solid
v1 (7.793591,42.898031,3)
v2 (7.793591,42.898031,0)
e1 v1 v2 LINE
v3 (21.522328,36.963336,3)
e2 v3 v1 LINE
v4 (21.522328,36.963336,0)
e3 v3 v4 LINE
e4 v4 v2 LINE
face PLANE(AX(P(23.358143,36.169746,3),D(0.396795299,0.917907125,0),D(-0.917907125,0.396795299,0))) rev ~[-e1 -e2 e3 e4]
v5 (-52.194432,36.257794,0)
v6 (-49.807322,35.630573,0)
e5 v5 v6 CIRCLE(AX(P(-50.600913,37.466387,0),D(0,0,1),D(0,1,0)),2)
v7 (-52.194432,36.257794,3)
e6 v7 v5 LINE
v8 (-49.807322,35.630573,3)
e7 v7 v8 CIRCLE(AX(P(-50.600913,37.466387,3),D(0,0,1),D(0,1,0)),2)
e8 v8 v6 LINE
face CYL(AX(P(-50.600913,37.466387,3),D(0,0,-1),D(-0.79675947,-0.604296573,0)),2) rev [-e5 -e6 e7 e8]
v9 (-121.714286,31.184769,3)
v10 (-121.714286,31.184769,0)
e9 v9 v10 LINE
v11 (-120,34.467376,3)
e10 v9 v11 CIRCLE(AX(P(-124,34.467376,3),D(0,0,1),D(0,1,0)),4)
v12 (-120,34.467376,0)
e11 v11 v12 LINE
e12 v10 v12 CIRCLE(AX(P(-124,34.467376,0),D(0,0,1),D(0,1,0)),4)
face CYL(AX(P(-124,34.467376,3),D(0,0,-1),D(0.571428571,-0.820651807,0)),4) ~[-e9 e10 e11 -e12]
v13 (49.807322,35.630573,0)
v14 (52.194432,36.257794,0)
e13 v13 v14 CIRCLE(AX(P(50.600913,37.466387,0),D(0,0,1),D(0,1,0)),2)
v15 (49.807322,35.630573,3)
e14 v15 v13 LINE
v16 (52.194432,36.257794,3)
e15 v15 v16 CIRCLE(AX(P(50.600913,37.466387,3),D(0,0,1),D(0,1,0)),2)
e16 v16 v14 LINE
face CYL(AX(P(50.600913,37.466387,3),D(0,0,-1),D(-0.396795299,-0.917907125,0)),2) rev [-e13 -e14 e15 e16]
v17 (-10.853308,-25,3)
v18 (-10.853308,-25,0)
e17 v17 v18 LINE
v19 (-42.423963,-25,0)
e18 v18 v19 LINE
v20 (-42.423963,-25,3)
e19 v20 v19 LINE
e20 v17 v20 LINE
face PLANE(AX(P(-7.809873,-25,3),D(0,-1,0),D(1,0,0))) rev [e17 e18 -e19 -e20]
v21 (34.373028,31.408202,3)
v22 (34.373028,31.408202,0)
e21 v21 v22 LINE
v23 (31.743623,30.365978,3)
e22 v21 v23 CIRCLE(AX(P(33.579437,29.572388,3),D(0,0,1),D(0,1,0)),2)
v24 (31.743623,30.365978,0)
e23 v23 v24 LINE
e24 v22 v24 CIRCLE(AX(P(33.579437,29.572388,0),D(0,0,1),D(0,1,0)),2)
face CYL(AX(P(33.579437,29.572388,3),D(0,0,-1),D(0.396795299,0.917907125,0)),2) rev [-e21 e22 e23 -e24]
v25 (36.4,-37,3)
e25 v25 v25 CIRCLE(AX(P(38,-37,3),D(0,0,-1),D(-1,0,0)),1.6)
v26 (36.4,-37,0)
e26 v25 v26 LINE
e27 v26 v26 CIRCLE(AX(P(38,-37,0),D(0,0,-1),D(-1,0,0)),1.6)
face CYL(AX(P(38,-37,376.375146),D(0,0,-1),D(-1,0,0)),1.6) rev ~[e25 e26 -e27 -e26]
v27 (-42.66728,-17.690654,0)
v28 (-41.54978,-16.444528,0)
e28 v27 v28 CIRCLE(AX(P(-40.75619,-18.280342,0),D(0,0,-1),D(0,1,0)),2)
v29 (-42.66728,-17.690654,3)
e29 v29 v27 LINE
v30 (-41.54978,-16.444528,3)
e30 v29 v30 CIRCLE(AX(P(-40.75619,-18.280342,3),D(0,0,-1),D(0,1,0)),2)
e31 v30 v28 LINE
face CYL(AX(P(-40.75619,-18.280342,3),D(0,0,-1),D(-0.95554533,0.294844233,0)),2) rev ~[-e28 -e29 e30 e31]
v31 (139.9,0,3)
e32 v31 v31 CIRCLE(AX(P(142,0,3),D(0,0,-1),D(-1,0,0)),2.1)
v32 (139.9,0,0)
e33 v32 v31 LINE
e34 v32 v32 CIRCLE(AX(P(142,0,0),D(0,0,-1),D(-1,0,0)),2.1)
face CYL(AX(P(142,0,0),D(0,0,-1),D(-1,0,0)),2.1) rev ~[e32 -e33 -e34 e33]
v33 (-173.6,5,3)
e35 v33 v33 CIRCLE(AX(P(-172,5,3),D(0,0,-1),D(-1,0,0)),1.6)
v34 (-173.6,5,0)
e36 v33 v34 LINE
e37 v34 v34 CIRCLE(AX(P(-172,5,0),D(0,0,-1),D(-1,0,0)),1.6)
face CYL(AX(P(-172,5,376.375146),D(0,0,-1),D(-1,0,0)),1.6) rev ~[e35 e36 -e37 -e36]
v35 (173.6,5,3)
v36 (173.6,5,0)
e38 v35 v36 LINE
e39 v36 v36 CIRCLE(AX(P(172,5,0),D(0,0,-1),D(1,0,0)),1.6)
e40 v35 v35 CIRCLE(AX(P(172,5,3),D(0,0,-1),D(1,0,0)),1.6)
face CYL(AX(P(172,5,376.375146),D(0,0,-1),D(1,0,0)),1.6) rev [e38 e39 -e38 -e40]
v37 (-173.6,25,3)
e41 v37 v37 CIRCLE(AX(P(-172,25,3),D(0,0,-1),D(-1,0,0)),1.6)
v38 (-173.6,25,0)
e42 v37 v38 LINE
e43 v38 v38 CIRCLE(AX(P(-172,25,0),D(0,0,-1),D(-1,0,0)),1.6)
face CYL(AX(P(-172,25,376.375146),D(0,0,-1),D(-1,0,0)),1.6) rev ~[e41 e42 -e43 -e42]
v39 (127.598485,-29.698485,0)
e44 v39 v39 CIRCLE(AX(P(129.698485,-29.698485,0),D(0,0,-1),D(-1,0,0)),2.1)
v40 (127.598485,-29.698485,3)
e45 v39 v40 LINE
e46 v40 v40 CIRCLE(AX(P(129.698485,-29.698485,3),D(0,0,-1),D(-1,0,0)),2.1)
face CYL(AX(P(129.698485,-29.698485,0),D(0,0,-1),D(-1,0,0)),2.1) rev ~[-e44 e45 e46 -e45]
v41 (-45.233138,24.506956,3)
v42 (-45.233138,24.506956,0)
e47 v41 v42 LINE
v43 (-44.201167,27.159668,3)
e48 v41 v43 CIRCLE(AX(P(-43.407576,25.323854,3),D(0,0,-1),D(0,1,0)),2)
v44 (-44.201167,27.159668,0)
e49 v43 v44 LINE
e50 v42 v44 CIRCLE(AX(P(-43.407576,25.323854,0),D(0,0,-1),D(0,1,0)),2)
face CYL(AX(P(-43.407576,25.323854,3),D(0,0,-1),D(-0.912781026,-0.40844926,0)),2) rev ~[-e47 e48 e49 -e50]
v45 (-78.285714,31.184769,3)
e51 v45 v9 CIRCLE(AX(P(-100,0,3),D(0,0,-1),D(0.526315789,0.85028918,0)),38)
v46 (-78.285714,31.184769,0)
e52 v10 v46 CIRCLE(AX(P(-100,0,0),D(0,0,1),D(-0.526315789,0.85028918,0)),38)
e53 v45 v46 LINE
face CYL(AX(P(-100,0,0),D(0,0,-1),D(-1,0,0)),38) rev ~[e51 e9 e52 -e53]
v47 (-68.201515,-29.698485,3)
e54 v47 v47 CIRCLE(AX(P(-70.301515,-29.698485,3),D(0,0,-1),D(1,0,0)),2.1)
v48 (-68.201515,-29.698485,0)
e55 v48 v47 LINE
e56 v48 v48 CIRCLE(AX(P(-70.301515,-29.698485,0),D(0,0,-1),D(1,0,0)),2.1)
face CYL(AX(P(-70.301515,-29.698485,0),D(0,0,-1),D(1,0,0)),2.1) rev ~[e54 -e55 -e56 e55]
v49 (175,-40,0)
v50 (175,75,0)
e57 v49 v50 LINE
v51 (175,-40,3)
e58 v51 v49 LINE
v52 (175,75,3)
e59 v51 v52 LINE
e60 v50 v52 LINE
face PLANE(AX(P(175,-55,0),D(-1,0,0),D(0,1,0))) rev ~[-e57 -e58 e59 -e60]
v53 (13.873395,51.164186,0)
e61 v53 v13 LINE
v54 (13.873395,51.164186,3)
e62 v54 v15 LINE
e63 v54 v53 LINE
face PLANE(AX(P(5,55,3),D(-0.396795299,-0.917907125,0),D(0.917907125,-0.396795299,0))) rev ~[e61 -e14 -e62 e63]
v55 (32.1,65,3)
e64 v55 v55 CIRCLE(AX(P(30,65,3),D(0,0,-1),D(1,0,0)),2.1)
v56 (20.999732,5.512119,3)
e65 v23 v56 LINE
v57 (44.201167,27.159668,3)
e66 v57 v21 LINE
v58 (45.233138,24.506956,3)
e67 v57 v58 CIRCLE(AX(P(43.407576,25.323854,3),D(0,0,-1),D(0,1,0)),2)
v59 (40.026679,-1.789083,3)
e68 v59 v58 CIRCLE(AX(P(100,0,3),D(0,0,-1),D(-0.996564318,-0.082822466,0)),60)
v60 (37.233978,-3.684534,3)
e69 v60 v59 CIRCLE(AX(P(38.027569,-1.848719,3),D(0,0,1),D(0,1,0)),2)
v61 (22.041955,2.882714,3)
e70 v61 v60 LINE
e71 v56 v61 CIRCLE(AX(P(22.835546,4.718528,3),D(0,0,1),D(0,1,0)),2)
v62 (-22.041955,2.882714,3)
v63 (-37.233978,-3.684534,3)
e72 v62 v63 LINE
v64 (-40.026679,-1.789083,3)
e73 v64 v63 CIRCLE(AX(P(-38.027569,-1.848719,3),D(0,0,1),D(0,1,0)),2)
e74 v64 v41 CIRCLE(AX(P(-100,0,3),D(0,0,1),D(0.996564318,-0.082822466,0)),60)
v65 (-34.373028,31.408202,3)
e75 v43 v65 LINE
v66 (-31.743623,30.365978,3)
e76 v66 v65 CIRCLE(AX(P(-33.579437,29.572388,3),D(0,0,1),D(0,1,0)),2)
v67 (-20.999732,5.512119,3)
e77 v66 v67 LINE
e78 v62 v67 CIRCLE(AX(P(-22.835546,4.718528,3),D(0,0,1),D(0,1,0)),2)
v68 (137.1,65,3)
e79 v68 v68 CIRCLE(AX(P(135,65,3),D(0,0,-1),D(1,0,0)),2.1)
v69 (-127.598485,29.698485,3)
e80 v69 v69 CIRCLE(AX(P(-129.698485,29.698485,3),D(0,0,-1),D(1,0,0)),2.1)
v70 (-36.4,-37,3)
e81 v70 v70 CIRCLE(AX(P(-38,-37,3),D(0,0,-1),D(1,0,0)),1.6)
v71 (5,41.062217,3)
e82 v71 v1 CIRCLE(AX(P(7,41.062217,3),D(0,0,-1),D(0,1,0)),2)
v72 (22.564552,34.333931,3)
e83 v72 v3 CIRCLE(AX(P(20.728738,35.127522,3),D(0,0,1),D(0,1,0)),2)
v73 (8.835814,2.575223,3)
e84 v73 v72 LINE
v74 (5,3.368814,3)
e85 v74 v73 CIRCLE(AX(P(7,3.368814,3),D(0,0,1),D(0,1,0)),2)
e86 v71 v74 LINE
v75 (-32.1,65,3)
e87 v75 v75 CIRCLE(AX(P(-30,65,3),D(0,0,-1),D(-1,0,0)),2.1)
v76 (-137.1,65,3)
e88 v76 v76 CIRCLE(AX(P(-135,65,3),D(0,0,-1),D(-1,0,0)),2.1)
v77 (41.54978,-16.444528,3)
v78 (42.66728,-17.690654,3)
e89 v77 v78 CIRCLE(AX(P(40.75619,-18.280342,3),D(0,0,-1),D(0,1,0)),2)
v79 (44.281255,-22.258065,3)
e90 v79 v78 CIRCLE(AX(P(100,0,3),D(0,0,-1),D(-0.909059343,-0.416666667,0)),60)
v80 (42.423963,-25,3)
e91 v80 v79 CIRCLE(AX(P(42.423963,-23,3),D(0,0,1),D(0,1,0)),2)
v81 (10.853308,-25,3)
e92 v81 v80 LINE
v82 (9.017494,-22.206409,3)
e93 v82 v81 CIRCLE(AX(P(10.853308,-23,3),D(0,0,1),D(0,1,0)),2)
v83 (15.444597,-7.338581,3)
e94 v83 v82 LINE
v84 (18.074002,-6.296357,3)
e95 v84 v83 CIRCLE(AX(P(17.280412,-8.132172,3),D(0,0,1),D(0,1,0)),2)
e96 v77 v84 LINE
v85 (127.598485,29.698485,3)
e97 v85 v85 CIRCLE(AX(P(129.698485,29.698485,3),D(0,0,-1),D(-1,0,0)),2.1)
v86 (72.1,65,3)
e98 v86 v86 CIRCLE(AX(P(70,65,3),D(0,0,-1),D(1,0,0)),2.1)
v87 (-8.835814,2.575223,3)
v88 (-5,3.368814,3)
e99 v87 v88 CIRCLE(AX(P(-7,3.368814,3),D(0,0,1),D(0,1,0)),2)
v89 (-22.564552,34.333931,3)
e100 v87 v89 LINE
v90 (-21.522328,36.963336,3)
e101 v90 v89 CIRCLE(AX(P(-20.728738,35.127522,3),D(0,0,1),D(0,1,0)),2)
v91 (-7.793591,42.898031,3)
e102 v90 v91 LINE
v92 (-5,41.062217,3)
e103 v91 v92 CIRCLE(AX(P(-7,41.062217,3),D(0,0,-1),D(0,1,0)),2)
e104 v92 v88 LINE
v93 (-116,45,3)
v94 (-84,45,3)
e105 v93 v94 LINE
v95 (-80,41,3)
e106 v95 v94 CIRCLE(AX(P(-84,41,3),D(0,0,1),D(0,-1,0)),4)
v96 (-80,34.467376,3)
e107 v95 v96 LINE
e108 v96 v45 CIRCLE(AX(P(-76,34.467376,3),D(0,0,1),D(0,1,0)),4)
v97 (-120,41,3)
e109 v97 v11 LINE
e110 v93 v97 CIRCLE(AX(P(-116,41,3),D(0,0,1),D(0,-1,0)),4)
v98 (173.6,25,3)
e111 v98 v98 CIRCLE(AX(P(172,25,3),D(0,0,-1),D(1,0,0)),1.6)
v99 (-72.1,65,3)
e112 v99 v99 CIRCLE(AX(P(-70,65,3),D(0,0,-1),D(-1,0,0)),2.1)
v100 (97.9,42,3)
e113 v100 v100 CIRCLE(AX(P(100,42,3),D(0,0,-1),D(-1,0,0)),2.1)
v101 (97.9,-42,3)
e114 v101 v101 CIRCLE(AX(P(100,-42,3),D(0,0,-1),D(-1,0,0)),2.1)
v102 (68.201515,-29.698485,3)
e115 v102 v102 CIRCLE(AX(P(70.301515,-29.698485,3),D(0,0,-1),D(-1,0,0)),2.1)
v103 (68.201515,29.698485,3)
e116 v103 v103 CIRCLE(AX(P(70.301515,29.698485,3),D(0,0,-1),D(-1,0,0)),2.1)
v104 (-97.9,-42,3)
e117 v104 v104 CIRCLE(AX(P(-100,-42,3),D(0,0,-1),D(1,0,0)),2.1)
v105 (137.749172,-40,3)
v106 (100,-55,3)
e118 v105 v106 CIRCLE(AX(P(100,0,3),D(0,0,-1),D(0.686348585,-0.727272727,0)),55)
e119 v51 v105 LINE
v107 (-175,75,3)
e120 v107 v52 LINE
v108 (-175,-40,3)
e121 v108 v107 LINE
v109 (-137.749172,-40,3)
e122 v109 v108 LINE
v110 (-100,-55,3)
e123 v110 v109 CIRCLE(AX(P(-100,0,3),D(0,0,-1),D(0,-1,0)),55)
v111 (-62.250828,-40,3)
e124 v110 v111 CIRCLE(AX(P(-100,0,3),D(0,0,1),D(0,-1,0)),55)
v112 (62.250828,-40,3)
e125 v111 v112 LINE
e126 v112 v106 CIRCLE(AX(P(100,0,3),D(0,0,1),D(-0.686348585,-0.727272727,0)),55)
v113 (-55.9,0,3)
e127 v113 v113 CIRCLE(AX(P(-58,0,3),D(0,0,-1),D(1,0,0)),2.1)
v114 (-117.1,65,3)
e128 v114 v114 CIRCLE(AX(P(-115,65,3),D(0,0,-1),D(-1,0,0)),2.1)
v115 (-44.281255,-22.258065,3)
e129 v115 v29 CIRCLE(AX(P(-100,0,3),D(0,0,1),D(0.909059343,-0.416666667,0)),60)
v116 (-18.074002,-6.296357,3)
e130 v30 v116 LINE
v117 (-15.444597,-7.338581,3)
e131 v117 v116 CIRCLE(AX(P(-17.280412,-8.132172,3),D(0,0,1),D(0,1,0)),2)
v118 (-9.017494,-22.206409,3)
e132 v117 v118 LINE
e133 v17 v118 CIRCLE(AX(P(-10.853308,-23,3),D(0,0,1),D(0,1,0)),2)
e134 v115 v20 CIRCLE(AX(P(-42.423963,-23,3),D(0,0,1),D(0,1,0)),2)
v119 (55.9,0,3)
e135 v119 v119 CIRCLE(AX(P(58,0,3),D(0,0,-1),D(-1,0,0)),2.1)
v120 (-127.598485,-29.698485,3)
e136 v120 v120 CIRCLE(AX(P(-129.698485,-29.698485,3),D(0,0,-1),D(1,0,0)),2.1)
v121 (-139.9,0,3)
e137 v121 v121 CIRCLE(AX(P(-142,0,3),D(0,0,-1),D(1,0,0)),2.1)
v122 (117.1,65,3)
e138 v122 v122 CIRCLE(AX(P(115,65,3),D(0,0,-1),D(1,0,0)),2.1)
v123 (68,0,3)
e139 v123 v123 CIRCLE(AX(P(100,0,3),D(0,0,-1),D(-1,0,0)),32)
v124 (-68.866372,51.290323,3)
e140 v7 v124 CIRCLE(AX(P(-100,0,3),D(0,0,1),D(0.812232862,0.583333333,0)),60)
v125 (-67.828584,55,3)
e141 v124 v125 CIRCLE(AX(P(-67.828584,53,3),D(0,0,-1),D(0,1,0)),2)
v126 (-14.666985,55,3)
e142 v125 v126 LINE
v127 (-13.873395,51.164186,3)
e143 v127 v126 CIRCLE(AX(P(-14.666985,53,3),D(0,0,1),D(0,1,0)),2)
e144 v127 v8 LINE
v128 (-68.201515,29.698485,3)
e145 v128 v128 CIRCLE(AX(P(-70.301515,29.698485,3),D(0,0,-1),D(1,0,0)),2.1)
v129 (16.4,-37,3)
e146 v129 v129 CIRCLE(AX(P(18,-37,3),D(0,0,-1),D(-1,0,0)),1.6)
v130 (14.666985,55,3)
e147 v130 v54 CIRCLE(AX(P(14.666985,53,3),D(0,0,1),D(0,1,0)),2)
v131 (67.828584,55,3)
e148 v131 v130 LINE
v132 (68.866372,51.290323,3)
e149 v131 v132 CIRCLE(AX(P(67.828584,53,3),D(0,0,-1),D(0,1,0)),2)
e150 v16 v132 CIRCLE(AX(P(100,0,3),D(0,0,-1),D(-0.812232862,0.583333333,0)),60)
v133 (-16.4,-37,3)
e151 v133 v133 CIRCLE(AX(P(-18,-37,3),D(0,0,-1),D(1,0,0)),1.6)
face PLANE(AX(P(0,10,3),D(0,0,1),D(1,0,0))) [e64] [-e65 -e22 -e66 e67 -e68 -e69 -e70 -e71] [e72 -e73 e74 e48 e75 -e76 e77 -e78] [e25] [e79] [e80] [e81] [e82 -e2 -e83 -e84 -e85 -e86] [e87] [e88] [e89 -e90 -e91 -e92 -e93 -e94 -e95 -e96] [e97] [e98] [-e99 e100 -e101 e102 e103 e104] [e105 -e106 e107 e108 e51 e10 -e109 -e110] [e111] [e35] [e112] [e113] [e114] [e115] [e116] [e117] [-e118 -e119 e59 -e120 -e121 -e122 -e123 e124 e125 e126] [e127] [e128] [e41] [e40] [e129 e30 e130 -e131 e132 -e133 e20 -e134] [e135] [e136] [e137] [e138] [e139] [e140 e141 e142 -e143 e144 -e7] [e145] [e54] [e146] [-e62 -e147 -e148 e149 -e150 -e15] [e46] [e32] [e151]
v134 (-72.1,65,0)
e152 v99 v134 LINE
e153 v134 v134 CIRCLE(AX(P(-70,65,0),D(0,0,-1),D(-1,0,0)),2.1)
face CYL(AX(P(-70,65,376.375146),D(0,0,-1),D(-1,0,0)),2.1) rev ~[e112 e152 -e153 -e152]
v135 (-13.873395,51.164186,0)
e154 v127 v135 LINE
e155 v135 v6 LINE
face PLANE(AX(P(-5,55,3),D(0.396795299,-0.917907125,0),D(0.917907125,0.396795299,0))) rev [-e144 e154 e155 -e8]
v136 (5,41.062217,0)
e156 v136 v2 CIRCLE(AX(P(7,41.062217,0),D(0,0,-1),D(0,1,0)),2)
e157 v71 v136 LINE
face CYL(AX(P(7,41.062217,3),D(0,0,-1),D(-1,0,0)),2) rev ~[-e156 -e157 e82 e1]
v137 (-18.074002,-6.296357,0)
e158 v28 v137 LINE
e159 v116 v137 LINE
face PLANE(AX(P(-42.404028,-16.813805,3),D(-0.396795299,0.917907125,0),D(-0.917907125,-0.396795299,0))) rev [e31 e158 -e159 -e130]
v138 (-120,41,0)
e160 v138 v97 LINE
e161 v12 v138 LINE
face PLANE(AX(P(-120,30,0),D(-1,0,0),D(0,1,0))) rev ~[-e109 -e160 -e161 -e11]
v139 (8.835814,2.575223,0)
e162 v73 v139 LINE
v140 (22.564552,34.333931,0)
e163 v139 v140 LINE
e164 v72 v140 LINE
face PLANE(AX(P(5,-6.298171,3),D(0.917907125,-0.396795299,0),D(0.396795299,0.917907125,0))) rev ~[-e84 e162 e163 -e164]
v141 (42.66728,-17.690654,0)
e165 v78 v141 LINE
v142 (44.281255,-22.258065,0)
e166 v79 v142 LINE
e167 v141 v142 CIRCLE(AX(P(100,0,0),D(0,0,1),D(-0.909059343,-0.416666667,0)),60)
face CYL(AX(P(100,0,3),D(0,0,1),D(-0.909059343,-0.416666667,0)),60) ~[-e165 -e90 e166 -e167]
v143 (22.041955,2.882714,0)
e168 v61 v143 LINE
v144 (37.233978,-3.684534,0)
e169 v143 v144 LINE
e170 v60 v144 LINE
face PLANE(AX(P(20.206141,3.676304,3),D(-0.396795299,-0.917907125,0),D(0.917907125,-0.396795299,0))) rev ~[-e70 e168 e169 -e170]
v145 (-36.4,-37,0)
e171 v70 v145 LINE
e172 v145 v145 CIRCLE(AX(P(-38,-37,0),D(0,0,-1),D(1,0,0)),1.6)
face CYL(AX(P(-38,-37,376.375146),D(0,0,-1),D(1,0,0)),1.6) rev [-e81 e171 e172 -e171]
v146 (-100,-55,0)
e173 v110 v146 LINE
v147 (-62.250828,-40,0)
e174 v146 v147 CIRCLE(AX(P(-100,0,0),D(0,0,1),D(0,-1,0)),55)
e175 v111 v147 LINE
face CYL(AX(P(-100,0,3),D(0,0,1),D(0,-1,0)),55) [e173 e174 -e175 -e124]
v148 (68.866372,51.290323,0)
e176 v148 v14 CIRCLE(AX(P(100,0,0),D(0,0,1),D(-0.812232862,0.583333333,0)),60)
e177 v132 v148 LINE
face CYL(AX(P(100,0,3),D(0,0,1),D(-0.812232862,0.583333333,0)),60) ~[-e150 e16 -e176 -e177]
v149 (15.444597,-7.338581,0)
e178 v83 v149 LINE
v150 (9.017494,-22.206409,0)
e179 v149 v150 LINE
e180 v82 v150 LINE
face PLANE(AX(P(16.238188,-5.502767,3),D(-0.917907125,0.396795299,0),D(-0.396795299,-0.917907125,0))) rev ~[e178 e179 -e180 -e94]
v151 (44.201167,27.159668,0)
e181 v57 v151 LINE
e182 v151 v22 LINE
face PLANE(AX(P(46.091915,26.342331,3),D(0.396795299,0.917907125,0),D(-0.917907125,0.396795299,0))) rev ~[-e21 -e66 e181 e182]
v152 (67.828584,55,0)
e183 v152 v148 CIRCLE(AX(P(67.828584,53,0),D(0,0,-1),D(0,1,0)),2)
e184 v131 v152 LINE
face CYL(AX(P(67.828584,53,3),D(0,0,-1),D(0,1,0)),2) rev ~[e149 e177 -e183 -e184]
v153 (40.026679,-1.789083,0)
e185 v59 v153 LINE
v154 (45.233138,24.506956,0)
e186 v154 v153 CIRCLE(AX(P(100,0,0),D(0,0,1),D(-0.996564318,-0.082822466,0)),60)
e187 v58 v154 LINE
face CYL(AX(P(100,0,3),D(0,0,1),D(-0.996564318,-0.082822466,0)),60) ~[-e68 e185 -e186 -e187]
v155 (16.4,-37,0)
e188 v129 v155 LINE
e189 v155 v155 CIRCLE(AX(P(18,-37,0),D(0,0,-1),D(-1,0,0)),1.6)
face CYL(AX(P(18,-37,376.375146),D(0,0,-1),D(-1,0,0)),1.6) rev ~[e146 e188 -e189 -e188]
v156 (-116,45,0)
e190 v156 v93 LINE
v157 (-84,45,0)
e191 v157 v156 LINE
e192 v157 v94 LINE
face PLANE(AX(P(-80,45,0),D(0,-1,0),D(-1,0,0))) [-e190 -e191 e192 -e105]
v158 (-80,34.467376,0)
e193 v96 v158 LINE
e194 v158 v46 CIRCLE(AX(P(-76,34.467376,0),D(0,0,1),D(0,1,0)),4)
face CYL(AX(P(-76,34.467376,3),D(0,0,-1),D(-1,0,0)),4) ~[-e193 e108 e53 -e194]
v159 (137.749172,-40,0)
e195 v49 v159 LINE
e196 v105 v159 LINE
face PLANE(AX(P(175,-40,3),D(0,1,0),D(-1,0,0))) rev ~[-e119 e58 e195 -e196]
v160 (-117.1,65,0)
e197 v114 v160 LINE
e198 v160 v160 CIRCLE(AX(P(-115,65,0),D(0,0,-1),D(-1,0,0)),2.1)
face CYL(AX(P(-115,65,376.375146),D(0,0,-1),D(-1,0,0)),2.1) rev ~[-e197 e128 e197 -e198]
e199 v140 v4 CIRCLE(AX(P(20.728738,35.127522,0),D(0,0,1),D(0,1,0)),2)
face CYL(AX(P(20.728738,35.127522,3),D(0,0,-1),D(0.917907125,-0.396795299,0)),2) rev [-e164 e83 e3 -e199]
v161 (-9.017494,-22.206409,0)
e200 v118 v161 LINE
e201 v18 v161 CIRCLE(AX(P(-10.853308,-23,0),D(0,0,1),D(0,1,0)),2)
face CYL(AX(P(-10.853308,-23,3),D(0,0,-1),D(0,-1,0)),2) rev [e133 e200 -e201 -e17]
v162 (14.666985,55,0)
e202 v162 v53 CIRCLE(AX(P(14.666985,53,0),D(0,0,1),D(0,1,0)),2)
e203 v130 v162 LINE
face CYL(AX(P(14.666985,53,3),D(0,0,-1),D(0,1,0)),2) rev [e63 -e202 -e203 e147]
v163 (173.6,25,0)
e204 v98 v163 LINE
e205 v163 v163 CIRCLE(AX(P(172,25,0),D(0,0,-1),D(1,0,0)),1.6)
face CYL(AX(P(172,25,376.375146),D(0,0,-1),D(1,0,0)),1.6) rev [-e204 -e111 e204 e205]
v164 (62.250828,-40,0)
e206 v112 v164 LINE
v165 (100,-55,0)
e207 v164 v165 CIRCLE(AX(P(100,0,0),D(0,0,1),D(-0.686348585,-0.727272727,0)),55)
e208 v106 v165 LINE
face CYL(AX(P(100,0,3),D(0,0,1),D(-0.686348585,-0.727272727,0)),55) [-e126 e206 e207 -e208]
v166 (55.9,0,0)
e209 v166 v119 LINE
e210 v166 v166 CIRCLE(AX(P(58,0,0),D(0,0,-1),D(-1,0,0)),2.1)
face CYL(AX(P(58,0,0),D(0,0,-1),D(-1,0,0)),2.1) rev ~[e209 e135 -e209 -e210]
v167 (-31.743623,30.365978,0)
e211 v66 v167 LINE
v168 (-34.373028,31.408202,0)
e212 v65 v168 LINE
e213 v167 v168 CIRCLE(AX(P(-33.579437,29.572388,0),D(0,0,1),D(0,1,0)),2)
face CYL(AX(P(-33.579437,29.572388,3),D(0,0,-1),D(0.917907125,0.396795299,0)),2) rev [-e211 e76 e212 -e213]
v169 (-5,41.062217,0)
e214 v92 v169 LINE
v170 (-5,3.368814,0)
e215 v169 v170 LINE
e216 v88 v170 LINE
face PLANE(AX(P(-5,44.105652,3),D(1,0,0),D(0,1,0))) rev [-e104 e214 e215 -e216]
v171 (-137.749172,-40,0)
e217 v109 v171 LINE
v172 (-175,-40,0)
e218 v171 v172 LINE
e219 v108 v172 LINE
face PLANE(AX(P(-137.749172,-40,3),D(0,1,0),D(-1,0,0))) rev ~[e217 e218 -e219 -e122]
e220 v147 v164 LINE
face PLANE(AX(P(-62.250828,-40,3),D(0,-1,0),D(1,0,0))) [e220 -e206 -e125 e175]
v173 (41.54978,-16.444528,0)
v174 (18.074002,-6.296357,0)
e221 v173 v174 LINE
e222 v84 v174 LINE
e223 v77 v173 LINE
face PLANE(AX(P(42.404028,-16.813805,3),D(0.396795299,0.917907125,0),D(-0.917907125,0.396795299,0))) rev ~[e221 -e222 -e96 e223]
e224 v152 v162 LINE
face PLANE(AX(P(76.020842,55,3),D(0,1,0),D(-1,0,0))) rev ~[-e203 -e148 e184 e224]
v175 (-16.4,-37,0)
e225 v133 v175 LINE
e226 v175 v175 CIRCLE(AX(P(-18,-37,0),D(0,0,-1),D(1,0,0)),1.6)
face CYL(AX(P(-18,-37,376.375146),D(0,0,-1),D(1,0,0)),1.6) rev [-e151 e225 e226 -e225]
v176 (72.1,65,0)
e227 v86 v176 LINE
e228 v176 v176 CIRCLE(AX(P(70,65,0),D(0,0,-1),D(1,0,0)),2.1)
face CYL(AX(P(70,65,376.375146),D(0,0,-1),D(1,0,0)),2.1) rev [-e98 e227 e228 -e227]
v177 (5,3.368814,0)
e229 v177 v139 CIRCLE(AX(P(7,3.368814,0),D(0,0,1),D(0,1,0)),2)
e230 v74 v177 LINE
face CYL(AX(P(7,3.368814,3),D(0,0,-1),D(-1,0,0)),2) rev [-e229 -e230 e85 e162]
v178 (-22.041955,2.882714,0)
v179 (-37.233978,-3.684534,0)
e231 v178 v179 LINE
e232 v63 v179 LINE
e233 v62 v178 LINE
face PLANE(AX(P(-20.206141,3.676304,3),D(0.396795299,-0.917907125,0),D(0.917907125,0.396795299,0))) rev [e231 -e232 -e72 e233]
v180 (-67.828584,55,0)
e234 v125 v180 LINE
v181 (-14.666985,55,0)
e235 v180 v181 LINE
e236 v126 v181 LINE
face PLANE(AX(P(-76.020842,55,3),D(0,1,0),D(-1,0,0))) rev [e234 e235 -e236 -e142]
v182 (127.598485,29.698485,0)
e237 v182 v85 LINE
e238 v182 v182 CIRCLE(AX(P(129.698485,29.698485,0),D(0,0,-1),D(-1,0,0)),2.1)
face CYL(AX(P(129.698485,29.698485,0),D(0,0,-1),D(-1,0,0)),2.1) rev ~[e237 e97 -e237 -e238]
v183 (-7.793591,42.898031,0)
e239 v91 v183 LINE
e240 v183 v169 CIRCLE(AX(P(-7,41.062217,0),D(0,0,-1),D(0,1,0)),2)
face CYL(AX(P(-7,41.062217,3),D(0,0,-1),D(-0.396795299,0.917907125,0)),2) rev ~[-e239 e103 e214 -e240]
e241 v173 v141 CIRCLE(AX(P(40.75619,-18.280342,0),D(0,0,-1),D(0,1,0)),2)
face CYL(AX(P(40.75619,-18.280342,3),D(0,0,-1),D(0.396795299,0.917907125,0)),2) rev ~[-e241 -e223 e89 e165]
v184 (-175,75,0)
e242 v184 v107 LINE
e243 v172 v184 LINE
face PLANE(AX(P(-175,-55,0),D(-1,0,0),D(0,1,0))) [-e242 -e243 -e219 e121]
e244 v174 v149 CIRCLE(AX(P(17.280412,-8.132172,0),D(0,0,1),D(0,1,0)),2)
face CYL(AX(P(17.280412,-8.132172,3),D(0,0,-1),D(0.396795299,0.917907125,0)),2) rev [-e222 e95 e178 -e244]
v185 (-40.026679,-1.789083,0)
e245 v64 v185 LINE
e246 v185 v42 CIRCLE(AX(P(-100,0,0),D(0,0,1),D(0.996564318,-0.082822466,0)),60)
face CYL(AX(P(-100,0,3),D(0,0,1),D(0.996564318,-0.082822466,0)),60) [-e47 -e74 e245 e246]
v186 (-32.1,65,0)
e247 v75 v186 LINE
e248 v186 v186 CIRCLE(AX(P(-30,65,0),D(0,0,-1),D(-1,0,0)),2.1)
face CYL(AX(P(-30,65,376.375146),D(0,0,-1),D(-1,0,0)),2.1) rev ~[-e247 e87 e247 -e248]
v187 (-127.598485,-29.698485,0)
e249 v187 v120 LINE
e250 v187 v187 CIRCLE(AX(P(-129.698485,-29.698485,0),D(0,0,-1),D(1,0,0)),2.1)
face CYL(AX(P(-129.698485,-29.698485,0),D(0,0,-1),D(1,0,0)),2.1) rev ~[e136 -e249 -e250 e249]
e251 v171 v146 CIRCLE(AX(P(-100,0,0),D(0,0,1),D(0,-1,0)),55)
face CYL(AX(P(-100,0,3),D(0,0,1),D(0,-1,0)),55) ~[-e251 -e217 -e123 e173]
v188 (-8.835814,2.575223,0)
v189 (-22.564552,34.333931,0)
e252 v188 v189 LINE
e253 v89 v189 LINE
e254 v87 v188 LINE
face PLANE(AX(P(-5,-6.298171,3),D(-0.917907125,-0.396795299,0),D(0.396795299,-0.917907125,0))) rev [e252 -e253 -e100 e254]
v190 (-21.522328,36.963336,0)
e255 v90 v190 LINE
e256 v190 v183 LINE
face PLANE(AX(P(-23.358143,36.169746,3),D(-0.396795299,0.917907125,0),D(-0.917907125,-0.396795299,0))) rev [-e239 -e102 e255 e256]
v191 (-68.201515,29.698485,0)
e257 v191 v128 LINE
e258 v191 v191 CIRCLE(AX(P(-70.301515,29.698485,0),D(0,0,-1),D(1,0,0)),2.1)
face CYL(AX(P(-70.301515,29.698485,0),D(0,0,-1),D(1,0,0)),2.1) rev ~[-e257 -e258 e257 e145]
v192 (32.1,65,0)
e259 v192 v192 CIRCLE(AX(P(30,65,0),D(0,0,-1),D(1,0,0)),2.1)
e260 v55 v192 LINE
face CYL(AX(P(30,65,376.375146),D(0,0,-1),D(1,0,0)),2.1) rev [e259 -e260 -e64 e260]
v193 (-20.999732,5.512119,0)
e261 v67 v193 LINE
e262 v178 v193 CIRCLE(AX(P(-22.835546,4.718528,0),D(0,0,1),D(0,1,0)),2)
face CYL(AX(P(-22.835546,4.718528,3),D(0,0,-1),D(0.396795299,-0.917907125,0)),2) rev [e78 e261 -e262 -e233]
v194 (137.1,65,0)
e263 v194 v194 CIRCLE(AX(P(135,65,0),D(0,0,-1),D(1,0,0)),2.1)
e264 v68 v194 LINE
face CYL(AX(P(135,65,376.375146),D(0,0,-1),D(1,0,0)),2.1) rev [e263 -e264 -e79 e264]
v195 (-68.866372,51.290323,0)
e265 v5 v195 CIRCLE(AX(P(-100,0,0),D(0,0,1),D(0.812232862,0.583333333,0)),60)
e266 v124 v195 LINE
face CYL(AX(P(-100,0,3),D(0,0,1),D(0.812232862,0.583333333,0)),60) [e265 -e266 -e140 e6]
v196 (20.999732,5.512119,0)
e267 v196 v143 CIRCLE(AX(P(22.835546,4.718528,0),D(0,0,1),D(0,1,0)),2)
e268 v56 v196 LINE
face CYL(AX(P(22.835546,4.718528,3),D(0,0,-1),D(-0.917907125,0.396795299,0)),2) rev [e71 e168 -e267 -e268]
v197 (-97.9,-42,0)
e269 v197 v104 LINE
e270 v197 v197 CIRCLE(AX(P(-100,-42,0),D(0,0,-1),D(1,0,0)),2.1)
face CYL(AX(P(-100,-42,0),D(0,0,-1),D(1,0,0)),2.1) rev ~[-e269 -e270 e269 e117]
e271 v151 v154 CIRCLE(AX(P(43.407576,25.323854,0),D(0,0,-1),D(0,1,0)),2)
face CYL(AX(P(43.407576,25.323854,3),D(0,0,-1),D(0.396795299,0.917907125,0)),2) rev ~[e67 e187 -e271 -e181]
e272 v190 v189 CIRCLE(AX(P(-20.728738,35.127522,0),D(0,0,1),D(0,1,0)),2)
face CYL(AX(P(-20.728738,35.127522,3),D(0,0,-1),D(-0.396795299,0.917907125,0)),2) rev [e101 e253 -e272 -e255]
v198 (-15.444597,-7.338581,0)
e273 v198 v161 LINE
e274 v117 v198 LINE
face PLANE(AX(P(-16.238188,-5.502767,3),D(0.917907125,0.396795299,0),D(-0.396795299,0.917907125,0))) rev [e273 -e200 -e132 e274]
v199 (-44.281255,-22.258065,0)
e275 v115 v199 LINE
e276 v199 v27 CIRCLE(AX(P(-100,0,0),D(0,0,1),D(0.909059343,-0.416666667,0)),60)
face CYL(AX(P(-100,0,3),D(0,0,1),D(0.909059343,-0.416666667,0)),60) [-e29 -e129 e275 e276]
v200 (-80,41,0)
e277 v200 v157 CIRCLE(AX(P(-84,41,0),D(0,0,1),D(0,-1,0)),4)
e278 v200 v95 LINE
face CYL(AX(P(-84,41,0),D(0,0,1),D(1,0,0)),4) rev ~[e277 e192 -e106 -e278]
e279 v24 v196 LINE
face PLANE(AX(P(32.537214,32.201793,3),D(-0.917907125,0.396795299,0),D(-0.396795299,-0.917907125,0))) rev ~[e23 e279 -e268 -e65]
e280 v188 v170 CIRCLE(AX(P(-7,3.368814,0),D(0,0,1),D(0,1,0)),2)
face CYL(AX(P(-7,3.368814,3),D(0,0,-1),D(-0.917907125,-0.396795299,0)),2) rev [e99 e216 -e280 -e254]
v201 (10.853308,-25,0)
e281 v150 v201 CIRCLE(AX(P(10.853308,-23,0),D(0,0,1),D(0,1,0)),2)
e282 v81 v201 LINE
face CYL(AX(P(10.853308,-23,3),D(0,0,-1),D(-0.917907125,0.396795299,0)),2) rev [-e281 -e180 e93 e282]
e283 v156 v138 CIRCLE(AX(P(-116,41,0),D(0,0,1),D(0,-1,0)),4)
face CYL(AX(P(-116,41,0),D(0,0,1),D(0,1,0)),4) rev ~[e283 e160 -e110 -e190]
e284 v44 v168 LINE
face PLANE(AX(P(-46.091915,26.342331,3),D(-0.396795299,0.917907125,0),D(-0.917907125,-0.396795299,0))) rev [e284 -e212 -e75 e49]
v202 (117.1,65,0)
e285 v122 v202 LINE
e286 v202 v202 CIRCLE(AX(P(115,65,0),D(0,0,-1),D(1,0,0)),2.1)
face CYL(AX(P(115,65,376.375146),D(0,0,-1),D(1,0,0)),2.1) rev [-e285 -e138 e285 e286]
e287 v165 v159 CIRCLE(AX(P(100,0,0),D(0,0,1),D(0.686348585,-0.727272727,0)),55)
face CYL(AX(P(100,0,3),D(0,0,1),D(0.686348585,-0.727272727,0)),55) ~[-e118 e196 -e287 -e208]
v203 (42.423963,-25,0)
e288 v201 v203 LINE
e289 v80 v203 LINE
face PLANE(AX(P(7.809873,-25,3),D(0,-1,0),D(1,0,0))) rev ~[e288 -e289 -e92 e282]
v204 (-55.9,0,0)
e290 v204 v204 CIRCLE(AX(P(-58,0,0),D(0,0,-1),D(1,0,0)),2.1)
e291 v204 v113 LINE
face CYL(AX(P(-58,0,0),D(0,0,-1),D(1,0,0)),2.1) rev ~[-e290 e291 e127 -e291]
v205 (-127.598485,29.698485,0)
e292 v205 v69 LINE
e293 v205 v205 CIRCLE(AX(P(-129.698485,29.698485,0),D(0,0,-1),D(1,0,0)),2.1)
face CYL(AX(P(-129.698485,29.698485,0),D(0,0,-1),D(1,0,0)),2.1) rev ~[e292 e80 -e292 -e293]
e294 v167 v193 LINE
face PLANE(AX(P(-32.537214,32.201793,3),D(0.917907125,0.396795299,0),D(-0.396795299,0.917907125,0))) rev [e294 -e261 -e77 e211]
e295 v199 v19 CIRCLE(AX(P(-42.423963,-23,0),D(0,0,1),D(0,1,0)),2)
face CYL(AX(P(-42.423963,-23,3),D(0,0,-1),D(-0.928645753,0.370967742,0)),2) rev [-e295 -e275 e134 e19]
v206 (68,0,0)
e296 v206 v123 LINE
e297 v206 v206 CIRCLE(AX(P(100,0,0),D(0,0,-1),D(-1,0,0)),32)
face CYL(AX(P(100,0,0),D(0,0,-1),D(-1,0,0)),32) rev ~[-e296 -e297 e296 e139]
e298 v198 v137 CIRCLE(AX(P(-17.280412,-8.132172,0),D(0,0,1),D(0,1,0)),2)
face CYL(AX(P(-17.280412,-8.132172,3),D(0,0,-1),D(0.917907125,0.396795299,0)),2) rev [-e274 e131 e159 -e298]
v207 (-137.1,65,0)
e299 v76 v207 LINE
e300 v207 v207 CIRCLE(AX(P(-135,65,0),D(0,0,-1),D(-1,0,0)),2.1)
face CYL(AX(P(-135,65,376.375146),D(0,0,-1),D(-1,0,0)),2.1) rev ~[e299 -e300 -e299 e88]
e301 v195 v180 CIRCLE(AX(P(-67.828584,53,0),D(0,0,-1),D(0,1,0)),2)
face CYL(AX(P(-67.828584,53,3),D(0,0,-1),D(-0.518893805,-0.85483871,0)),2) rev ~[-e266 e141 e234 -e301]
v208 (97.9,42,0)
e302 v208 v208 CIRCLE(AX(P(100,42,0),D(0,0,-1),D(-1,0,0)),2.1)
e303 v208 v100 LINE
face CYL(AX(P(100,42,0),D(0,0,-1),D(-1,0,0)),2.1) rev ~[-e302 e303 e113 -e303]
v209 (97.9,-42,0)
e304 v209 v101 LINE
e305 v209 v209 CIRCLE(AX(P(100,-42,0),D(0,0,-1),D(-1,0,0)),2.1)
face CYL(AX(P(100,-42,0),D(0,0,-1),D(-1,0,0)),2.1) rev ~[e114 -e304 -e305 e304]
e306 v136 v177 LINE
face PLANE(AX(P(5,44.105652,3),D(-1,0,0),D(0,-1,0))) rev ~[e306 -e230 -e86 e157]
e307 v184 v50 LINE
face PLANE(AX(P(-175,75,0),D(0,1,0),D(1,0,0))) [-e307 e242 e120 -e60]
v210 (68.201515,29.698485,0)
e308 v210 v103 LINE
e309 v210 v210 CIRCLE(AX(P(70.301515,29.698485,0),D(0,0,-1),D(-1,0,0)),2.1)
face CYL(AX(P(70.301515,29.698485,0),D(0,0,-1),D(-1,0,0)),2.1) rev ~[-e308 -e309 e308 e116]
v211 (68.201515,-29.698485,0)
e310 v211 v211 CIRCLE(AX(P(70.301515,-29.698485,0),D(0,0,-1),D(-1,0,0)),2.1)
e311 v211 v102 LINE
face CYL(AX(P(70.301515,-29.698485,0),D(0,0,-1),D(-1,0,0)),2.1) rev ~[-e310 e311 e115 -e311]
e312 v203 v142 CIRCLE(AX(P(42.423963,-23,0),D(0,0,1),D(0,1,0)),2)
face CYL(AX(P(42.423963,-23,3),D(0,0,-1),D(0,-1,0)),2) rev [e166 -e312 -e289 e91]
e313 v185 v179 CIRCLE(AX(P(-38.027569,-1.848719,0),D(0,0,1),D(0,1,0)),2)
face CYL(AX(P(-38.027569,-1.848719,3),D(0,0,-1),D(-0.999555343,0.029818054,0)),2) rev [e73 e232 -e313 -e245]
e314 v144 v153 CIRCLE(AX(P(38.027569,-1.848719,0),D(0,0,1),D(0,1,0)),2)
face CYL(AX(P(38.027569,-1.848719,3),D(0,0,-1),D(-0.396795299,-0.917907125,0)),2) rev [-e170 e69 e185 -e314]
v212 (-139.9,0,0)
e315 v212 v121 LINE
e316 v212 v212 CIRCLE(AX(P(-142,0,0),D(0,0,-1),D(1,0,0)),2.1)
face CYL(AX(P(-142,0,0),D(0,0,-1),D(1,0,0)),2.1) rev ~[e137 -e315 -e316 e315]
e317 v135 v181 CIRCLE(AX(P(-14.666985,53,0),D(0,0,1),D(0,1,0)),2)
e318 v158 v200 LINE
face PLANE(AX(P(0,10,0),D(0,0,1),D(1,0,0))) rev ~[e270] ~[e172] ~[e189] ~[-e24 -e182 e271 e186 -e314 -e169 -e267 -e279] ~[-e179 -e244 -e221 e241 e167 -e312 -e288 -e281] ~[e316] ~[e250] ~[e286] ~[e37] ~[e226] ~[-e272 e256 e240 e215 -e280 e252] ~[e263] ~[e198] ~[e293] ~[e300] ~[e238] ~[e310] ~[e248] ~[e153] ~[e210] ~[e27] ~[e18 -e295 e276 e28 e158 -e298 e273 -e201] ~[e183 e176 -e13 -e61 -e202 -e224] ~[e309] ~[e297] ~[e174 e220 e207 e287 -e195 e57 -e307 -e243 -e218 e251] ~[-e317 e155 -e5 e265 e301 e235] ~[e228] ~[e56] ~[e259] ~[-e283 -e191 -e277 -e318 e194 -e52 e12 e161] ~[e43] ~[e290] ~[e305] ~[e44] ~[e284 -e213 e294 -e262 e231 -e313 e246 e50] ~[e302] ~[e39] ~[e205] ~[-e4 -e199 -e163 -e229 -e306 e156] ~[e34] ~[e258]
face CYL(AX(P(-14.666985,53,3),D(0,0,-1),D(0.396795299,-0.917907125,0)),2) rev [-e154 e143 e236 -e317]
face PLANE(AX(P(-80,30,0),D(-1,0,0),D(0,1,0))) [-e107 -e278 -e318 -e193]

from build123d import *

# Parameters (mm, degrees)
SKETCH_1_W              = 350
SKETCH_1_H              = 130
EXTRUDE_1_DEPTH         = 3
SKETCH_2_R              = 2.1
CUT_EXTRUDE_1_DEPTH     = 191.417961338
SKETCH_3_R              = 32
SKETCH_3_R_2            = 38
CUT_EXTRUDE_3_DEPTH     = 10
SKETCH_4_W              = 40
SKETCH_4_H              = 15
CUT_EXTRUDE_4_DEPTH     = 191.417961338
HOLE_WIZARD_4_2_4_2_1_D = 4.2
HOLE_WIZARD_3_2_3_2_2_D = 3.2
CUT_EXTRUDE_5_DEPTH     = 191.417961338
CUT_EXTRUDE_6_DEPTH     = 191.417961338
FILLET_1_R              = 4
CUT_EXTRUDE_7_DEPTH     = 191.417961338
FILLET_2_R              = 2
FILLET_2_OF_MIRROR_4_R  = 2
HOLE_WIZARD_3_2_3_2_3_D = 3.2


with BuildPart() as part:
    # 草图1 → 凸台-拉伸1 (new body)
    with BuildSketch(Plane.XY):
        with Locations((0, 10)):
            Rectangle(SKETCH_1_W, SKETCH_1_H)
    extrude(amount=EXTRUDE_1_DEPTH)

    # 草图2 → 切除-拉伸1 (cut, through all)
    with BuildSketch(Plane(origin=(0, 0, 0), x_dir=(-1, 0, 0), z_dir=(0, 0, -1))):
        with Locations((-100, 42)):
            Circle(SKETCH_2_R)
        with Locations((-70.30151519, 29.69848481)):
            Circle(SKETCH_2_R)
        with Locations((-58, 0)):
            Circle(SKETCH_2_R)
        with Locations((-70.30151519, -29.69848481)):
            Circle(SKETCH_2_R)
        with Locations((-100, -42)):
            Circle(SKETCH_2_R)
        with Locations((-129.69848481, -29.69848481)):
            Circle(SKETCH_2_R)
        with Locations((-142, 0)):
            Circle(SKETCH_2_R)
        with Locations((-129.69848481, 29.69848481)):
            Circle(SKETCH_2_R)
        with Locations(Location((129.69848481, 29.69848481, 0), (0, 0, 180))):
            Circle(SKETCH_2_R)
        with Locations(Location((142, 0, 0), (0, 0, 180))):
            Circle(SKETCH_2_R)
        with Locations(Location((129.69848481, -29.69848481, 0), (0, 0, 180))):
            Circle(SKETCH_2_R)
        with Locations(Location((100, -42, 0), (0, 0, 180))):
            Circle(SKETCH_2_R)
        with Locations(Location((70.30151519, -29.69848481, 0), (0, 0, 180))):
            Circle(SKETCH_2_R)
        with Locations(Location((58, 0, 0), (0, 0, 180))):
            Circle(SKETCH_2_R)
        with Locations(Location((70.30151519, 29.69848481, 0), (0, 0, 180))):
            Circle(SKETCH_2_R)
        with Locations(Location((100, 42, 0), (0, 0, 180))):
            Circle(SKETCH_2_R)
    extrude(amount=-CUT_EXTRUDE_1_DEPTH, mode=Mode.SUBTRACT)

    # 草图3 → 切除-拉伸3 (cut)
    with BuildSketch(Plane(origin=(0, 0, 0), x_dir=(-1, 0, 0), z_dir=(0, 0, -1))):
        with Locations((-100, 0)):
            Circle(SKETCH_3_R)
        with Locations((100, 0)):
            Circle(SKETCH_3_R_2)
    extrude(amount=-CUT_EXTRUDE_3_DEPTH, mode=Mode.SUBTRACT)

    # 草图4 → 切除-拉伸4 (cut, through all)
    with BuildSketch(Plane(origin=(0, 0, 0), x_dir=(-1, 0, 0), z_dir=(0, 0, -1))):
        with Locations((100, 37.5)):
            Rectangle(SKETCH_4_W, SKETCH_4_H)
    extrude(amount=-CUT_EXTRUDE_4_DEPTH, mode=Mode.SUBTRACT)

    # Ø4.2 (4.2) 直径孔1 (through all)
    with Locations(Plane(origin=(-30, 65, 3), x_dir=(1, 0, 0), z_dir=(0, 0, 1))):
        with Locations((0, 0), (-40, 0), (-85, 0), (-105, 0)):
            hole_wizard_4_2_4_2_1 = Hole(HOLE_WIZARD_4_2_4_2_1_D / 2)

    # 镜向1: Ø4.2 (4.2) 直径孔1 across plane
    add(hole_wizard_4_2_4_2_1.mirror(Plane(origin=(0, 0, 0), x_dir=(0, 0, 1), z_dir=(1, 0, 0))), mode=Mode.SUBTRACT)

    # Ø3.2 (3.2) 直径孔2 (through all)
    with Locations(Plane(origin=(-172, 25, 3), x_dir=(1, 0, 0), z_dir=(0, 0, 1))):
        with Locations((0, 0), (0, -20)):
            hole_wizard_3_2_3_2_2 = Hole(HOLE_WIZARD_3_2_3_2_2_D / 2)

    # 镜向3: Ø3.2 (3.2) 直径孔2 across plane
    add(hole_wizard_3_2_3_2_2.mirror(Plane(origin=(0, 0, 0), x_dir=(0, 0, 1), z_dir=(1, 0, 0))), mode=Mode.SUBTRACT)

    # 草图12 → 切除-拉伸5 (cut, through all)
    with BuildSketch(Plane.XY.offset(3)):
        with BuildLine():
            Line((-175, -55), (-100, -55))
            ThreePointArc((-100, -55), (-120.310096012, -51.112620751), (-137.749172176, -40))
            Line((-137.749172176, -40), (-175, -40))
            Line((-175, -40), (-175, -55))
        make_face()
        with BuildLine():
            Line((175, -55), (175, -40))
            Line((175, -40), (137.749172176, -40))
            ThreePointArc((137.749172176, -40), (120.310096012, -51.112620751), (100, -55))
            Line((100, -55), (175, -55))
        make_face()
    extrude(amount=-CUT_EXTRUDE_5_DEPTH, mode=Mode.SUBTRACT)

    # 草图14 → 切除-拉伸6 (cut, through all)
    with BuildSketch(Plane.XY.offset(3)):
        with BuildLine():
            Line((-62.250827824, -40), (62.250827824, -40))
            ThreePointArc((62.250827824, -40), (79.689903988, -51.112620751), (100, -55))
            Line((100, -55), (-100, -55))
            ThreePointArc((-100, -55), (-79.689903988, -51.112620751), (-62.250827824, -40))
        make_face()
    extrude(amount=-CUT_EXTRUDE_6_DEPTH, mode=Mode.SUBTRACT)

    # 圆角1
    fillet_1_edges = [part.edges().sort_by_distance(p)[0] for p in [
        (-120, 45, 1.5),
        (-80, 45, 1.5),
        (-120, 32.310988843, 1.5),
        (-80, 32.310988843, 1.5),
    ]]
    fillet(fillet_1_edges, radius=FILLET_1_R)

    # 草图16 → 切除-拉伸7 (cut, through all)
    with BuildSketch(Plane.XY.offset(3)):
        with BuildLine():
            Line((76.020842383, 55), (5, 55))
            Line((5, 55), (51.266028276, 35))
            ThreePointArc((51.266028276, 35), (62.293239404, 46.671192457), (76.020842383, 55))
        make_face()
        with BuildLine():
            Line((46.091915187, 26.342330797), (32.537213763, 32.201792665))
            Line((32.537213763, 32.201792665), (20.206140943, 3.676304477))
            Line((20.206140943, 3.676304477), (40.206140943, -4.969347957))
            ThreePointArc((40.206140943, -4.969347957), (41.032735212, 11.084298962), (46.091915187, 26.342330797))
        make_face()
        Polygon((5, 44.105651626), (5, -6.298171369), (23.358142509, 36.169745652), align=None)
        with BuildLine():
            Line((42.404028194, -16.813804795), (16.238187957, -5.502766777))
            Line((16.238187957, -5.502766777), (7.809872863, -25))
            Line((7.809872863, -25), (45.456439427, -25))
            ThreePointArc((45.456439427, -25), (43.781034085, -20.962534948), (42.404028194, -16.813804795))
        make_face()
    cut_extrude_7 = extrude(amount=-CUT_EXTRUDE_7_DEPTH, mode=Mode.SUBTRACT)

    # 圆角2
    fillet_2_edges = [part.edges().sort_by_distance(p)[0] for p in [
        (42.404028194, -16.813804795, 1.5),
        (45.456439427, -25, 1.5),
        (7.809872863, -25, 1.5),
        (16.238187957, -5.502766777, 1.5),
        (20.206140943, 3.676304477, 1.5),
        (32.537213763, 32.201792665, 1.5),
        (46.091915187, 26.342330797, 1.5),
        (40.206140943, -4.969347957, 1.5),
        (5, 44.105651626, 1.5),
        (23.358142509, 36.169745652, 1.5),
        (5, -6.298171369, 1.5),
        (51.266028276, 35, 1.5),
        (5, 55, 1.5),
        (76.020842383, 55, 1.5),
    ]]
    fillet(fillet_2_edges, radius=FILLET_2_R)

    # 镜向4: 切除-拉伸7 across plane
    add(cut_extrude_7.mirror(Plane(origin=(0, 0, 0), x_dir=(0, 0, 1), z_dir=(1, 0, 0))), mode=Mode.SUBTRACT)

    # 圆角2 of 镜向4
    fillet_2_of_mirror_4_edges = [part.edges().sort_by_distance(p)[0] for p in [
        (-42.404028194, -16.813804795, 1.5),
        (-45.456439427, -25, 1.5),
        (-7.809872863, -25, 1.5),
        (-16.238187957, -5.502766777, 1.5),
        (-20.206140943, 3.676304477, 1.5),
        (-32.537213763, 32.201792665, 1.5),
        (-46.091915187, 26.342330797, 1.5),
        (-40.206140943, -4.969347957, 1.5),
        (-5, 44.105651626, 1.5),
        (-23.358142509, 36.169745652, 1.5),
        (-5, -6.298171369, 1.5),
        (-51.266028276, 35, 1.5),
        (-5, 55, 1.5),
        (-76.020842383, 55, 1.5),
    ]]
    fillet(fillet_2_of_mirror_4_edges, radius=FILLET_2_OF_MIRROR_4_R)

    # Ø3.2 (3.2) 直径孔3 (through all)
    with Locations(Plane(origin=(18, -37, 3), x_dir=(1, 0, 0), z_dir=(0, 0, 1))):
        with Locations((0, 0), (20, 0)):
            hole_wizard_3_2_3_2_3 = Hole(HOLE_WIZARD_3_2_3_2_3_D / 2)

    # 镜向5: Ø3.2 (3.2) 直径孔3 across plane
    add(hole_wizard_3_2_3_2_3.mirror(Plane(origin=(0, 0, 0), x_dir=(0, 0, 1), z_dir=(1, 0, 0))), mode=Mode.SUBTRACT)


solid = part.part
